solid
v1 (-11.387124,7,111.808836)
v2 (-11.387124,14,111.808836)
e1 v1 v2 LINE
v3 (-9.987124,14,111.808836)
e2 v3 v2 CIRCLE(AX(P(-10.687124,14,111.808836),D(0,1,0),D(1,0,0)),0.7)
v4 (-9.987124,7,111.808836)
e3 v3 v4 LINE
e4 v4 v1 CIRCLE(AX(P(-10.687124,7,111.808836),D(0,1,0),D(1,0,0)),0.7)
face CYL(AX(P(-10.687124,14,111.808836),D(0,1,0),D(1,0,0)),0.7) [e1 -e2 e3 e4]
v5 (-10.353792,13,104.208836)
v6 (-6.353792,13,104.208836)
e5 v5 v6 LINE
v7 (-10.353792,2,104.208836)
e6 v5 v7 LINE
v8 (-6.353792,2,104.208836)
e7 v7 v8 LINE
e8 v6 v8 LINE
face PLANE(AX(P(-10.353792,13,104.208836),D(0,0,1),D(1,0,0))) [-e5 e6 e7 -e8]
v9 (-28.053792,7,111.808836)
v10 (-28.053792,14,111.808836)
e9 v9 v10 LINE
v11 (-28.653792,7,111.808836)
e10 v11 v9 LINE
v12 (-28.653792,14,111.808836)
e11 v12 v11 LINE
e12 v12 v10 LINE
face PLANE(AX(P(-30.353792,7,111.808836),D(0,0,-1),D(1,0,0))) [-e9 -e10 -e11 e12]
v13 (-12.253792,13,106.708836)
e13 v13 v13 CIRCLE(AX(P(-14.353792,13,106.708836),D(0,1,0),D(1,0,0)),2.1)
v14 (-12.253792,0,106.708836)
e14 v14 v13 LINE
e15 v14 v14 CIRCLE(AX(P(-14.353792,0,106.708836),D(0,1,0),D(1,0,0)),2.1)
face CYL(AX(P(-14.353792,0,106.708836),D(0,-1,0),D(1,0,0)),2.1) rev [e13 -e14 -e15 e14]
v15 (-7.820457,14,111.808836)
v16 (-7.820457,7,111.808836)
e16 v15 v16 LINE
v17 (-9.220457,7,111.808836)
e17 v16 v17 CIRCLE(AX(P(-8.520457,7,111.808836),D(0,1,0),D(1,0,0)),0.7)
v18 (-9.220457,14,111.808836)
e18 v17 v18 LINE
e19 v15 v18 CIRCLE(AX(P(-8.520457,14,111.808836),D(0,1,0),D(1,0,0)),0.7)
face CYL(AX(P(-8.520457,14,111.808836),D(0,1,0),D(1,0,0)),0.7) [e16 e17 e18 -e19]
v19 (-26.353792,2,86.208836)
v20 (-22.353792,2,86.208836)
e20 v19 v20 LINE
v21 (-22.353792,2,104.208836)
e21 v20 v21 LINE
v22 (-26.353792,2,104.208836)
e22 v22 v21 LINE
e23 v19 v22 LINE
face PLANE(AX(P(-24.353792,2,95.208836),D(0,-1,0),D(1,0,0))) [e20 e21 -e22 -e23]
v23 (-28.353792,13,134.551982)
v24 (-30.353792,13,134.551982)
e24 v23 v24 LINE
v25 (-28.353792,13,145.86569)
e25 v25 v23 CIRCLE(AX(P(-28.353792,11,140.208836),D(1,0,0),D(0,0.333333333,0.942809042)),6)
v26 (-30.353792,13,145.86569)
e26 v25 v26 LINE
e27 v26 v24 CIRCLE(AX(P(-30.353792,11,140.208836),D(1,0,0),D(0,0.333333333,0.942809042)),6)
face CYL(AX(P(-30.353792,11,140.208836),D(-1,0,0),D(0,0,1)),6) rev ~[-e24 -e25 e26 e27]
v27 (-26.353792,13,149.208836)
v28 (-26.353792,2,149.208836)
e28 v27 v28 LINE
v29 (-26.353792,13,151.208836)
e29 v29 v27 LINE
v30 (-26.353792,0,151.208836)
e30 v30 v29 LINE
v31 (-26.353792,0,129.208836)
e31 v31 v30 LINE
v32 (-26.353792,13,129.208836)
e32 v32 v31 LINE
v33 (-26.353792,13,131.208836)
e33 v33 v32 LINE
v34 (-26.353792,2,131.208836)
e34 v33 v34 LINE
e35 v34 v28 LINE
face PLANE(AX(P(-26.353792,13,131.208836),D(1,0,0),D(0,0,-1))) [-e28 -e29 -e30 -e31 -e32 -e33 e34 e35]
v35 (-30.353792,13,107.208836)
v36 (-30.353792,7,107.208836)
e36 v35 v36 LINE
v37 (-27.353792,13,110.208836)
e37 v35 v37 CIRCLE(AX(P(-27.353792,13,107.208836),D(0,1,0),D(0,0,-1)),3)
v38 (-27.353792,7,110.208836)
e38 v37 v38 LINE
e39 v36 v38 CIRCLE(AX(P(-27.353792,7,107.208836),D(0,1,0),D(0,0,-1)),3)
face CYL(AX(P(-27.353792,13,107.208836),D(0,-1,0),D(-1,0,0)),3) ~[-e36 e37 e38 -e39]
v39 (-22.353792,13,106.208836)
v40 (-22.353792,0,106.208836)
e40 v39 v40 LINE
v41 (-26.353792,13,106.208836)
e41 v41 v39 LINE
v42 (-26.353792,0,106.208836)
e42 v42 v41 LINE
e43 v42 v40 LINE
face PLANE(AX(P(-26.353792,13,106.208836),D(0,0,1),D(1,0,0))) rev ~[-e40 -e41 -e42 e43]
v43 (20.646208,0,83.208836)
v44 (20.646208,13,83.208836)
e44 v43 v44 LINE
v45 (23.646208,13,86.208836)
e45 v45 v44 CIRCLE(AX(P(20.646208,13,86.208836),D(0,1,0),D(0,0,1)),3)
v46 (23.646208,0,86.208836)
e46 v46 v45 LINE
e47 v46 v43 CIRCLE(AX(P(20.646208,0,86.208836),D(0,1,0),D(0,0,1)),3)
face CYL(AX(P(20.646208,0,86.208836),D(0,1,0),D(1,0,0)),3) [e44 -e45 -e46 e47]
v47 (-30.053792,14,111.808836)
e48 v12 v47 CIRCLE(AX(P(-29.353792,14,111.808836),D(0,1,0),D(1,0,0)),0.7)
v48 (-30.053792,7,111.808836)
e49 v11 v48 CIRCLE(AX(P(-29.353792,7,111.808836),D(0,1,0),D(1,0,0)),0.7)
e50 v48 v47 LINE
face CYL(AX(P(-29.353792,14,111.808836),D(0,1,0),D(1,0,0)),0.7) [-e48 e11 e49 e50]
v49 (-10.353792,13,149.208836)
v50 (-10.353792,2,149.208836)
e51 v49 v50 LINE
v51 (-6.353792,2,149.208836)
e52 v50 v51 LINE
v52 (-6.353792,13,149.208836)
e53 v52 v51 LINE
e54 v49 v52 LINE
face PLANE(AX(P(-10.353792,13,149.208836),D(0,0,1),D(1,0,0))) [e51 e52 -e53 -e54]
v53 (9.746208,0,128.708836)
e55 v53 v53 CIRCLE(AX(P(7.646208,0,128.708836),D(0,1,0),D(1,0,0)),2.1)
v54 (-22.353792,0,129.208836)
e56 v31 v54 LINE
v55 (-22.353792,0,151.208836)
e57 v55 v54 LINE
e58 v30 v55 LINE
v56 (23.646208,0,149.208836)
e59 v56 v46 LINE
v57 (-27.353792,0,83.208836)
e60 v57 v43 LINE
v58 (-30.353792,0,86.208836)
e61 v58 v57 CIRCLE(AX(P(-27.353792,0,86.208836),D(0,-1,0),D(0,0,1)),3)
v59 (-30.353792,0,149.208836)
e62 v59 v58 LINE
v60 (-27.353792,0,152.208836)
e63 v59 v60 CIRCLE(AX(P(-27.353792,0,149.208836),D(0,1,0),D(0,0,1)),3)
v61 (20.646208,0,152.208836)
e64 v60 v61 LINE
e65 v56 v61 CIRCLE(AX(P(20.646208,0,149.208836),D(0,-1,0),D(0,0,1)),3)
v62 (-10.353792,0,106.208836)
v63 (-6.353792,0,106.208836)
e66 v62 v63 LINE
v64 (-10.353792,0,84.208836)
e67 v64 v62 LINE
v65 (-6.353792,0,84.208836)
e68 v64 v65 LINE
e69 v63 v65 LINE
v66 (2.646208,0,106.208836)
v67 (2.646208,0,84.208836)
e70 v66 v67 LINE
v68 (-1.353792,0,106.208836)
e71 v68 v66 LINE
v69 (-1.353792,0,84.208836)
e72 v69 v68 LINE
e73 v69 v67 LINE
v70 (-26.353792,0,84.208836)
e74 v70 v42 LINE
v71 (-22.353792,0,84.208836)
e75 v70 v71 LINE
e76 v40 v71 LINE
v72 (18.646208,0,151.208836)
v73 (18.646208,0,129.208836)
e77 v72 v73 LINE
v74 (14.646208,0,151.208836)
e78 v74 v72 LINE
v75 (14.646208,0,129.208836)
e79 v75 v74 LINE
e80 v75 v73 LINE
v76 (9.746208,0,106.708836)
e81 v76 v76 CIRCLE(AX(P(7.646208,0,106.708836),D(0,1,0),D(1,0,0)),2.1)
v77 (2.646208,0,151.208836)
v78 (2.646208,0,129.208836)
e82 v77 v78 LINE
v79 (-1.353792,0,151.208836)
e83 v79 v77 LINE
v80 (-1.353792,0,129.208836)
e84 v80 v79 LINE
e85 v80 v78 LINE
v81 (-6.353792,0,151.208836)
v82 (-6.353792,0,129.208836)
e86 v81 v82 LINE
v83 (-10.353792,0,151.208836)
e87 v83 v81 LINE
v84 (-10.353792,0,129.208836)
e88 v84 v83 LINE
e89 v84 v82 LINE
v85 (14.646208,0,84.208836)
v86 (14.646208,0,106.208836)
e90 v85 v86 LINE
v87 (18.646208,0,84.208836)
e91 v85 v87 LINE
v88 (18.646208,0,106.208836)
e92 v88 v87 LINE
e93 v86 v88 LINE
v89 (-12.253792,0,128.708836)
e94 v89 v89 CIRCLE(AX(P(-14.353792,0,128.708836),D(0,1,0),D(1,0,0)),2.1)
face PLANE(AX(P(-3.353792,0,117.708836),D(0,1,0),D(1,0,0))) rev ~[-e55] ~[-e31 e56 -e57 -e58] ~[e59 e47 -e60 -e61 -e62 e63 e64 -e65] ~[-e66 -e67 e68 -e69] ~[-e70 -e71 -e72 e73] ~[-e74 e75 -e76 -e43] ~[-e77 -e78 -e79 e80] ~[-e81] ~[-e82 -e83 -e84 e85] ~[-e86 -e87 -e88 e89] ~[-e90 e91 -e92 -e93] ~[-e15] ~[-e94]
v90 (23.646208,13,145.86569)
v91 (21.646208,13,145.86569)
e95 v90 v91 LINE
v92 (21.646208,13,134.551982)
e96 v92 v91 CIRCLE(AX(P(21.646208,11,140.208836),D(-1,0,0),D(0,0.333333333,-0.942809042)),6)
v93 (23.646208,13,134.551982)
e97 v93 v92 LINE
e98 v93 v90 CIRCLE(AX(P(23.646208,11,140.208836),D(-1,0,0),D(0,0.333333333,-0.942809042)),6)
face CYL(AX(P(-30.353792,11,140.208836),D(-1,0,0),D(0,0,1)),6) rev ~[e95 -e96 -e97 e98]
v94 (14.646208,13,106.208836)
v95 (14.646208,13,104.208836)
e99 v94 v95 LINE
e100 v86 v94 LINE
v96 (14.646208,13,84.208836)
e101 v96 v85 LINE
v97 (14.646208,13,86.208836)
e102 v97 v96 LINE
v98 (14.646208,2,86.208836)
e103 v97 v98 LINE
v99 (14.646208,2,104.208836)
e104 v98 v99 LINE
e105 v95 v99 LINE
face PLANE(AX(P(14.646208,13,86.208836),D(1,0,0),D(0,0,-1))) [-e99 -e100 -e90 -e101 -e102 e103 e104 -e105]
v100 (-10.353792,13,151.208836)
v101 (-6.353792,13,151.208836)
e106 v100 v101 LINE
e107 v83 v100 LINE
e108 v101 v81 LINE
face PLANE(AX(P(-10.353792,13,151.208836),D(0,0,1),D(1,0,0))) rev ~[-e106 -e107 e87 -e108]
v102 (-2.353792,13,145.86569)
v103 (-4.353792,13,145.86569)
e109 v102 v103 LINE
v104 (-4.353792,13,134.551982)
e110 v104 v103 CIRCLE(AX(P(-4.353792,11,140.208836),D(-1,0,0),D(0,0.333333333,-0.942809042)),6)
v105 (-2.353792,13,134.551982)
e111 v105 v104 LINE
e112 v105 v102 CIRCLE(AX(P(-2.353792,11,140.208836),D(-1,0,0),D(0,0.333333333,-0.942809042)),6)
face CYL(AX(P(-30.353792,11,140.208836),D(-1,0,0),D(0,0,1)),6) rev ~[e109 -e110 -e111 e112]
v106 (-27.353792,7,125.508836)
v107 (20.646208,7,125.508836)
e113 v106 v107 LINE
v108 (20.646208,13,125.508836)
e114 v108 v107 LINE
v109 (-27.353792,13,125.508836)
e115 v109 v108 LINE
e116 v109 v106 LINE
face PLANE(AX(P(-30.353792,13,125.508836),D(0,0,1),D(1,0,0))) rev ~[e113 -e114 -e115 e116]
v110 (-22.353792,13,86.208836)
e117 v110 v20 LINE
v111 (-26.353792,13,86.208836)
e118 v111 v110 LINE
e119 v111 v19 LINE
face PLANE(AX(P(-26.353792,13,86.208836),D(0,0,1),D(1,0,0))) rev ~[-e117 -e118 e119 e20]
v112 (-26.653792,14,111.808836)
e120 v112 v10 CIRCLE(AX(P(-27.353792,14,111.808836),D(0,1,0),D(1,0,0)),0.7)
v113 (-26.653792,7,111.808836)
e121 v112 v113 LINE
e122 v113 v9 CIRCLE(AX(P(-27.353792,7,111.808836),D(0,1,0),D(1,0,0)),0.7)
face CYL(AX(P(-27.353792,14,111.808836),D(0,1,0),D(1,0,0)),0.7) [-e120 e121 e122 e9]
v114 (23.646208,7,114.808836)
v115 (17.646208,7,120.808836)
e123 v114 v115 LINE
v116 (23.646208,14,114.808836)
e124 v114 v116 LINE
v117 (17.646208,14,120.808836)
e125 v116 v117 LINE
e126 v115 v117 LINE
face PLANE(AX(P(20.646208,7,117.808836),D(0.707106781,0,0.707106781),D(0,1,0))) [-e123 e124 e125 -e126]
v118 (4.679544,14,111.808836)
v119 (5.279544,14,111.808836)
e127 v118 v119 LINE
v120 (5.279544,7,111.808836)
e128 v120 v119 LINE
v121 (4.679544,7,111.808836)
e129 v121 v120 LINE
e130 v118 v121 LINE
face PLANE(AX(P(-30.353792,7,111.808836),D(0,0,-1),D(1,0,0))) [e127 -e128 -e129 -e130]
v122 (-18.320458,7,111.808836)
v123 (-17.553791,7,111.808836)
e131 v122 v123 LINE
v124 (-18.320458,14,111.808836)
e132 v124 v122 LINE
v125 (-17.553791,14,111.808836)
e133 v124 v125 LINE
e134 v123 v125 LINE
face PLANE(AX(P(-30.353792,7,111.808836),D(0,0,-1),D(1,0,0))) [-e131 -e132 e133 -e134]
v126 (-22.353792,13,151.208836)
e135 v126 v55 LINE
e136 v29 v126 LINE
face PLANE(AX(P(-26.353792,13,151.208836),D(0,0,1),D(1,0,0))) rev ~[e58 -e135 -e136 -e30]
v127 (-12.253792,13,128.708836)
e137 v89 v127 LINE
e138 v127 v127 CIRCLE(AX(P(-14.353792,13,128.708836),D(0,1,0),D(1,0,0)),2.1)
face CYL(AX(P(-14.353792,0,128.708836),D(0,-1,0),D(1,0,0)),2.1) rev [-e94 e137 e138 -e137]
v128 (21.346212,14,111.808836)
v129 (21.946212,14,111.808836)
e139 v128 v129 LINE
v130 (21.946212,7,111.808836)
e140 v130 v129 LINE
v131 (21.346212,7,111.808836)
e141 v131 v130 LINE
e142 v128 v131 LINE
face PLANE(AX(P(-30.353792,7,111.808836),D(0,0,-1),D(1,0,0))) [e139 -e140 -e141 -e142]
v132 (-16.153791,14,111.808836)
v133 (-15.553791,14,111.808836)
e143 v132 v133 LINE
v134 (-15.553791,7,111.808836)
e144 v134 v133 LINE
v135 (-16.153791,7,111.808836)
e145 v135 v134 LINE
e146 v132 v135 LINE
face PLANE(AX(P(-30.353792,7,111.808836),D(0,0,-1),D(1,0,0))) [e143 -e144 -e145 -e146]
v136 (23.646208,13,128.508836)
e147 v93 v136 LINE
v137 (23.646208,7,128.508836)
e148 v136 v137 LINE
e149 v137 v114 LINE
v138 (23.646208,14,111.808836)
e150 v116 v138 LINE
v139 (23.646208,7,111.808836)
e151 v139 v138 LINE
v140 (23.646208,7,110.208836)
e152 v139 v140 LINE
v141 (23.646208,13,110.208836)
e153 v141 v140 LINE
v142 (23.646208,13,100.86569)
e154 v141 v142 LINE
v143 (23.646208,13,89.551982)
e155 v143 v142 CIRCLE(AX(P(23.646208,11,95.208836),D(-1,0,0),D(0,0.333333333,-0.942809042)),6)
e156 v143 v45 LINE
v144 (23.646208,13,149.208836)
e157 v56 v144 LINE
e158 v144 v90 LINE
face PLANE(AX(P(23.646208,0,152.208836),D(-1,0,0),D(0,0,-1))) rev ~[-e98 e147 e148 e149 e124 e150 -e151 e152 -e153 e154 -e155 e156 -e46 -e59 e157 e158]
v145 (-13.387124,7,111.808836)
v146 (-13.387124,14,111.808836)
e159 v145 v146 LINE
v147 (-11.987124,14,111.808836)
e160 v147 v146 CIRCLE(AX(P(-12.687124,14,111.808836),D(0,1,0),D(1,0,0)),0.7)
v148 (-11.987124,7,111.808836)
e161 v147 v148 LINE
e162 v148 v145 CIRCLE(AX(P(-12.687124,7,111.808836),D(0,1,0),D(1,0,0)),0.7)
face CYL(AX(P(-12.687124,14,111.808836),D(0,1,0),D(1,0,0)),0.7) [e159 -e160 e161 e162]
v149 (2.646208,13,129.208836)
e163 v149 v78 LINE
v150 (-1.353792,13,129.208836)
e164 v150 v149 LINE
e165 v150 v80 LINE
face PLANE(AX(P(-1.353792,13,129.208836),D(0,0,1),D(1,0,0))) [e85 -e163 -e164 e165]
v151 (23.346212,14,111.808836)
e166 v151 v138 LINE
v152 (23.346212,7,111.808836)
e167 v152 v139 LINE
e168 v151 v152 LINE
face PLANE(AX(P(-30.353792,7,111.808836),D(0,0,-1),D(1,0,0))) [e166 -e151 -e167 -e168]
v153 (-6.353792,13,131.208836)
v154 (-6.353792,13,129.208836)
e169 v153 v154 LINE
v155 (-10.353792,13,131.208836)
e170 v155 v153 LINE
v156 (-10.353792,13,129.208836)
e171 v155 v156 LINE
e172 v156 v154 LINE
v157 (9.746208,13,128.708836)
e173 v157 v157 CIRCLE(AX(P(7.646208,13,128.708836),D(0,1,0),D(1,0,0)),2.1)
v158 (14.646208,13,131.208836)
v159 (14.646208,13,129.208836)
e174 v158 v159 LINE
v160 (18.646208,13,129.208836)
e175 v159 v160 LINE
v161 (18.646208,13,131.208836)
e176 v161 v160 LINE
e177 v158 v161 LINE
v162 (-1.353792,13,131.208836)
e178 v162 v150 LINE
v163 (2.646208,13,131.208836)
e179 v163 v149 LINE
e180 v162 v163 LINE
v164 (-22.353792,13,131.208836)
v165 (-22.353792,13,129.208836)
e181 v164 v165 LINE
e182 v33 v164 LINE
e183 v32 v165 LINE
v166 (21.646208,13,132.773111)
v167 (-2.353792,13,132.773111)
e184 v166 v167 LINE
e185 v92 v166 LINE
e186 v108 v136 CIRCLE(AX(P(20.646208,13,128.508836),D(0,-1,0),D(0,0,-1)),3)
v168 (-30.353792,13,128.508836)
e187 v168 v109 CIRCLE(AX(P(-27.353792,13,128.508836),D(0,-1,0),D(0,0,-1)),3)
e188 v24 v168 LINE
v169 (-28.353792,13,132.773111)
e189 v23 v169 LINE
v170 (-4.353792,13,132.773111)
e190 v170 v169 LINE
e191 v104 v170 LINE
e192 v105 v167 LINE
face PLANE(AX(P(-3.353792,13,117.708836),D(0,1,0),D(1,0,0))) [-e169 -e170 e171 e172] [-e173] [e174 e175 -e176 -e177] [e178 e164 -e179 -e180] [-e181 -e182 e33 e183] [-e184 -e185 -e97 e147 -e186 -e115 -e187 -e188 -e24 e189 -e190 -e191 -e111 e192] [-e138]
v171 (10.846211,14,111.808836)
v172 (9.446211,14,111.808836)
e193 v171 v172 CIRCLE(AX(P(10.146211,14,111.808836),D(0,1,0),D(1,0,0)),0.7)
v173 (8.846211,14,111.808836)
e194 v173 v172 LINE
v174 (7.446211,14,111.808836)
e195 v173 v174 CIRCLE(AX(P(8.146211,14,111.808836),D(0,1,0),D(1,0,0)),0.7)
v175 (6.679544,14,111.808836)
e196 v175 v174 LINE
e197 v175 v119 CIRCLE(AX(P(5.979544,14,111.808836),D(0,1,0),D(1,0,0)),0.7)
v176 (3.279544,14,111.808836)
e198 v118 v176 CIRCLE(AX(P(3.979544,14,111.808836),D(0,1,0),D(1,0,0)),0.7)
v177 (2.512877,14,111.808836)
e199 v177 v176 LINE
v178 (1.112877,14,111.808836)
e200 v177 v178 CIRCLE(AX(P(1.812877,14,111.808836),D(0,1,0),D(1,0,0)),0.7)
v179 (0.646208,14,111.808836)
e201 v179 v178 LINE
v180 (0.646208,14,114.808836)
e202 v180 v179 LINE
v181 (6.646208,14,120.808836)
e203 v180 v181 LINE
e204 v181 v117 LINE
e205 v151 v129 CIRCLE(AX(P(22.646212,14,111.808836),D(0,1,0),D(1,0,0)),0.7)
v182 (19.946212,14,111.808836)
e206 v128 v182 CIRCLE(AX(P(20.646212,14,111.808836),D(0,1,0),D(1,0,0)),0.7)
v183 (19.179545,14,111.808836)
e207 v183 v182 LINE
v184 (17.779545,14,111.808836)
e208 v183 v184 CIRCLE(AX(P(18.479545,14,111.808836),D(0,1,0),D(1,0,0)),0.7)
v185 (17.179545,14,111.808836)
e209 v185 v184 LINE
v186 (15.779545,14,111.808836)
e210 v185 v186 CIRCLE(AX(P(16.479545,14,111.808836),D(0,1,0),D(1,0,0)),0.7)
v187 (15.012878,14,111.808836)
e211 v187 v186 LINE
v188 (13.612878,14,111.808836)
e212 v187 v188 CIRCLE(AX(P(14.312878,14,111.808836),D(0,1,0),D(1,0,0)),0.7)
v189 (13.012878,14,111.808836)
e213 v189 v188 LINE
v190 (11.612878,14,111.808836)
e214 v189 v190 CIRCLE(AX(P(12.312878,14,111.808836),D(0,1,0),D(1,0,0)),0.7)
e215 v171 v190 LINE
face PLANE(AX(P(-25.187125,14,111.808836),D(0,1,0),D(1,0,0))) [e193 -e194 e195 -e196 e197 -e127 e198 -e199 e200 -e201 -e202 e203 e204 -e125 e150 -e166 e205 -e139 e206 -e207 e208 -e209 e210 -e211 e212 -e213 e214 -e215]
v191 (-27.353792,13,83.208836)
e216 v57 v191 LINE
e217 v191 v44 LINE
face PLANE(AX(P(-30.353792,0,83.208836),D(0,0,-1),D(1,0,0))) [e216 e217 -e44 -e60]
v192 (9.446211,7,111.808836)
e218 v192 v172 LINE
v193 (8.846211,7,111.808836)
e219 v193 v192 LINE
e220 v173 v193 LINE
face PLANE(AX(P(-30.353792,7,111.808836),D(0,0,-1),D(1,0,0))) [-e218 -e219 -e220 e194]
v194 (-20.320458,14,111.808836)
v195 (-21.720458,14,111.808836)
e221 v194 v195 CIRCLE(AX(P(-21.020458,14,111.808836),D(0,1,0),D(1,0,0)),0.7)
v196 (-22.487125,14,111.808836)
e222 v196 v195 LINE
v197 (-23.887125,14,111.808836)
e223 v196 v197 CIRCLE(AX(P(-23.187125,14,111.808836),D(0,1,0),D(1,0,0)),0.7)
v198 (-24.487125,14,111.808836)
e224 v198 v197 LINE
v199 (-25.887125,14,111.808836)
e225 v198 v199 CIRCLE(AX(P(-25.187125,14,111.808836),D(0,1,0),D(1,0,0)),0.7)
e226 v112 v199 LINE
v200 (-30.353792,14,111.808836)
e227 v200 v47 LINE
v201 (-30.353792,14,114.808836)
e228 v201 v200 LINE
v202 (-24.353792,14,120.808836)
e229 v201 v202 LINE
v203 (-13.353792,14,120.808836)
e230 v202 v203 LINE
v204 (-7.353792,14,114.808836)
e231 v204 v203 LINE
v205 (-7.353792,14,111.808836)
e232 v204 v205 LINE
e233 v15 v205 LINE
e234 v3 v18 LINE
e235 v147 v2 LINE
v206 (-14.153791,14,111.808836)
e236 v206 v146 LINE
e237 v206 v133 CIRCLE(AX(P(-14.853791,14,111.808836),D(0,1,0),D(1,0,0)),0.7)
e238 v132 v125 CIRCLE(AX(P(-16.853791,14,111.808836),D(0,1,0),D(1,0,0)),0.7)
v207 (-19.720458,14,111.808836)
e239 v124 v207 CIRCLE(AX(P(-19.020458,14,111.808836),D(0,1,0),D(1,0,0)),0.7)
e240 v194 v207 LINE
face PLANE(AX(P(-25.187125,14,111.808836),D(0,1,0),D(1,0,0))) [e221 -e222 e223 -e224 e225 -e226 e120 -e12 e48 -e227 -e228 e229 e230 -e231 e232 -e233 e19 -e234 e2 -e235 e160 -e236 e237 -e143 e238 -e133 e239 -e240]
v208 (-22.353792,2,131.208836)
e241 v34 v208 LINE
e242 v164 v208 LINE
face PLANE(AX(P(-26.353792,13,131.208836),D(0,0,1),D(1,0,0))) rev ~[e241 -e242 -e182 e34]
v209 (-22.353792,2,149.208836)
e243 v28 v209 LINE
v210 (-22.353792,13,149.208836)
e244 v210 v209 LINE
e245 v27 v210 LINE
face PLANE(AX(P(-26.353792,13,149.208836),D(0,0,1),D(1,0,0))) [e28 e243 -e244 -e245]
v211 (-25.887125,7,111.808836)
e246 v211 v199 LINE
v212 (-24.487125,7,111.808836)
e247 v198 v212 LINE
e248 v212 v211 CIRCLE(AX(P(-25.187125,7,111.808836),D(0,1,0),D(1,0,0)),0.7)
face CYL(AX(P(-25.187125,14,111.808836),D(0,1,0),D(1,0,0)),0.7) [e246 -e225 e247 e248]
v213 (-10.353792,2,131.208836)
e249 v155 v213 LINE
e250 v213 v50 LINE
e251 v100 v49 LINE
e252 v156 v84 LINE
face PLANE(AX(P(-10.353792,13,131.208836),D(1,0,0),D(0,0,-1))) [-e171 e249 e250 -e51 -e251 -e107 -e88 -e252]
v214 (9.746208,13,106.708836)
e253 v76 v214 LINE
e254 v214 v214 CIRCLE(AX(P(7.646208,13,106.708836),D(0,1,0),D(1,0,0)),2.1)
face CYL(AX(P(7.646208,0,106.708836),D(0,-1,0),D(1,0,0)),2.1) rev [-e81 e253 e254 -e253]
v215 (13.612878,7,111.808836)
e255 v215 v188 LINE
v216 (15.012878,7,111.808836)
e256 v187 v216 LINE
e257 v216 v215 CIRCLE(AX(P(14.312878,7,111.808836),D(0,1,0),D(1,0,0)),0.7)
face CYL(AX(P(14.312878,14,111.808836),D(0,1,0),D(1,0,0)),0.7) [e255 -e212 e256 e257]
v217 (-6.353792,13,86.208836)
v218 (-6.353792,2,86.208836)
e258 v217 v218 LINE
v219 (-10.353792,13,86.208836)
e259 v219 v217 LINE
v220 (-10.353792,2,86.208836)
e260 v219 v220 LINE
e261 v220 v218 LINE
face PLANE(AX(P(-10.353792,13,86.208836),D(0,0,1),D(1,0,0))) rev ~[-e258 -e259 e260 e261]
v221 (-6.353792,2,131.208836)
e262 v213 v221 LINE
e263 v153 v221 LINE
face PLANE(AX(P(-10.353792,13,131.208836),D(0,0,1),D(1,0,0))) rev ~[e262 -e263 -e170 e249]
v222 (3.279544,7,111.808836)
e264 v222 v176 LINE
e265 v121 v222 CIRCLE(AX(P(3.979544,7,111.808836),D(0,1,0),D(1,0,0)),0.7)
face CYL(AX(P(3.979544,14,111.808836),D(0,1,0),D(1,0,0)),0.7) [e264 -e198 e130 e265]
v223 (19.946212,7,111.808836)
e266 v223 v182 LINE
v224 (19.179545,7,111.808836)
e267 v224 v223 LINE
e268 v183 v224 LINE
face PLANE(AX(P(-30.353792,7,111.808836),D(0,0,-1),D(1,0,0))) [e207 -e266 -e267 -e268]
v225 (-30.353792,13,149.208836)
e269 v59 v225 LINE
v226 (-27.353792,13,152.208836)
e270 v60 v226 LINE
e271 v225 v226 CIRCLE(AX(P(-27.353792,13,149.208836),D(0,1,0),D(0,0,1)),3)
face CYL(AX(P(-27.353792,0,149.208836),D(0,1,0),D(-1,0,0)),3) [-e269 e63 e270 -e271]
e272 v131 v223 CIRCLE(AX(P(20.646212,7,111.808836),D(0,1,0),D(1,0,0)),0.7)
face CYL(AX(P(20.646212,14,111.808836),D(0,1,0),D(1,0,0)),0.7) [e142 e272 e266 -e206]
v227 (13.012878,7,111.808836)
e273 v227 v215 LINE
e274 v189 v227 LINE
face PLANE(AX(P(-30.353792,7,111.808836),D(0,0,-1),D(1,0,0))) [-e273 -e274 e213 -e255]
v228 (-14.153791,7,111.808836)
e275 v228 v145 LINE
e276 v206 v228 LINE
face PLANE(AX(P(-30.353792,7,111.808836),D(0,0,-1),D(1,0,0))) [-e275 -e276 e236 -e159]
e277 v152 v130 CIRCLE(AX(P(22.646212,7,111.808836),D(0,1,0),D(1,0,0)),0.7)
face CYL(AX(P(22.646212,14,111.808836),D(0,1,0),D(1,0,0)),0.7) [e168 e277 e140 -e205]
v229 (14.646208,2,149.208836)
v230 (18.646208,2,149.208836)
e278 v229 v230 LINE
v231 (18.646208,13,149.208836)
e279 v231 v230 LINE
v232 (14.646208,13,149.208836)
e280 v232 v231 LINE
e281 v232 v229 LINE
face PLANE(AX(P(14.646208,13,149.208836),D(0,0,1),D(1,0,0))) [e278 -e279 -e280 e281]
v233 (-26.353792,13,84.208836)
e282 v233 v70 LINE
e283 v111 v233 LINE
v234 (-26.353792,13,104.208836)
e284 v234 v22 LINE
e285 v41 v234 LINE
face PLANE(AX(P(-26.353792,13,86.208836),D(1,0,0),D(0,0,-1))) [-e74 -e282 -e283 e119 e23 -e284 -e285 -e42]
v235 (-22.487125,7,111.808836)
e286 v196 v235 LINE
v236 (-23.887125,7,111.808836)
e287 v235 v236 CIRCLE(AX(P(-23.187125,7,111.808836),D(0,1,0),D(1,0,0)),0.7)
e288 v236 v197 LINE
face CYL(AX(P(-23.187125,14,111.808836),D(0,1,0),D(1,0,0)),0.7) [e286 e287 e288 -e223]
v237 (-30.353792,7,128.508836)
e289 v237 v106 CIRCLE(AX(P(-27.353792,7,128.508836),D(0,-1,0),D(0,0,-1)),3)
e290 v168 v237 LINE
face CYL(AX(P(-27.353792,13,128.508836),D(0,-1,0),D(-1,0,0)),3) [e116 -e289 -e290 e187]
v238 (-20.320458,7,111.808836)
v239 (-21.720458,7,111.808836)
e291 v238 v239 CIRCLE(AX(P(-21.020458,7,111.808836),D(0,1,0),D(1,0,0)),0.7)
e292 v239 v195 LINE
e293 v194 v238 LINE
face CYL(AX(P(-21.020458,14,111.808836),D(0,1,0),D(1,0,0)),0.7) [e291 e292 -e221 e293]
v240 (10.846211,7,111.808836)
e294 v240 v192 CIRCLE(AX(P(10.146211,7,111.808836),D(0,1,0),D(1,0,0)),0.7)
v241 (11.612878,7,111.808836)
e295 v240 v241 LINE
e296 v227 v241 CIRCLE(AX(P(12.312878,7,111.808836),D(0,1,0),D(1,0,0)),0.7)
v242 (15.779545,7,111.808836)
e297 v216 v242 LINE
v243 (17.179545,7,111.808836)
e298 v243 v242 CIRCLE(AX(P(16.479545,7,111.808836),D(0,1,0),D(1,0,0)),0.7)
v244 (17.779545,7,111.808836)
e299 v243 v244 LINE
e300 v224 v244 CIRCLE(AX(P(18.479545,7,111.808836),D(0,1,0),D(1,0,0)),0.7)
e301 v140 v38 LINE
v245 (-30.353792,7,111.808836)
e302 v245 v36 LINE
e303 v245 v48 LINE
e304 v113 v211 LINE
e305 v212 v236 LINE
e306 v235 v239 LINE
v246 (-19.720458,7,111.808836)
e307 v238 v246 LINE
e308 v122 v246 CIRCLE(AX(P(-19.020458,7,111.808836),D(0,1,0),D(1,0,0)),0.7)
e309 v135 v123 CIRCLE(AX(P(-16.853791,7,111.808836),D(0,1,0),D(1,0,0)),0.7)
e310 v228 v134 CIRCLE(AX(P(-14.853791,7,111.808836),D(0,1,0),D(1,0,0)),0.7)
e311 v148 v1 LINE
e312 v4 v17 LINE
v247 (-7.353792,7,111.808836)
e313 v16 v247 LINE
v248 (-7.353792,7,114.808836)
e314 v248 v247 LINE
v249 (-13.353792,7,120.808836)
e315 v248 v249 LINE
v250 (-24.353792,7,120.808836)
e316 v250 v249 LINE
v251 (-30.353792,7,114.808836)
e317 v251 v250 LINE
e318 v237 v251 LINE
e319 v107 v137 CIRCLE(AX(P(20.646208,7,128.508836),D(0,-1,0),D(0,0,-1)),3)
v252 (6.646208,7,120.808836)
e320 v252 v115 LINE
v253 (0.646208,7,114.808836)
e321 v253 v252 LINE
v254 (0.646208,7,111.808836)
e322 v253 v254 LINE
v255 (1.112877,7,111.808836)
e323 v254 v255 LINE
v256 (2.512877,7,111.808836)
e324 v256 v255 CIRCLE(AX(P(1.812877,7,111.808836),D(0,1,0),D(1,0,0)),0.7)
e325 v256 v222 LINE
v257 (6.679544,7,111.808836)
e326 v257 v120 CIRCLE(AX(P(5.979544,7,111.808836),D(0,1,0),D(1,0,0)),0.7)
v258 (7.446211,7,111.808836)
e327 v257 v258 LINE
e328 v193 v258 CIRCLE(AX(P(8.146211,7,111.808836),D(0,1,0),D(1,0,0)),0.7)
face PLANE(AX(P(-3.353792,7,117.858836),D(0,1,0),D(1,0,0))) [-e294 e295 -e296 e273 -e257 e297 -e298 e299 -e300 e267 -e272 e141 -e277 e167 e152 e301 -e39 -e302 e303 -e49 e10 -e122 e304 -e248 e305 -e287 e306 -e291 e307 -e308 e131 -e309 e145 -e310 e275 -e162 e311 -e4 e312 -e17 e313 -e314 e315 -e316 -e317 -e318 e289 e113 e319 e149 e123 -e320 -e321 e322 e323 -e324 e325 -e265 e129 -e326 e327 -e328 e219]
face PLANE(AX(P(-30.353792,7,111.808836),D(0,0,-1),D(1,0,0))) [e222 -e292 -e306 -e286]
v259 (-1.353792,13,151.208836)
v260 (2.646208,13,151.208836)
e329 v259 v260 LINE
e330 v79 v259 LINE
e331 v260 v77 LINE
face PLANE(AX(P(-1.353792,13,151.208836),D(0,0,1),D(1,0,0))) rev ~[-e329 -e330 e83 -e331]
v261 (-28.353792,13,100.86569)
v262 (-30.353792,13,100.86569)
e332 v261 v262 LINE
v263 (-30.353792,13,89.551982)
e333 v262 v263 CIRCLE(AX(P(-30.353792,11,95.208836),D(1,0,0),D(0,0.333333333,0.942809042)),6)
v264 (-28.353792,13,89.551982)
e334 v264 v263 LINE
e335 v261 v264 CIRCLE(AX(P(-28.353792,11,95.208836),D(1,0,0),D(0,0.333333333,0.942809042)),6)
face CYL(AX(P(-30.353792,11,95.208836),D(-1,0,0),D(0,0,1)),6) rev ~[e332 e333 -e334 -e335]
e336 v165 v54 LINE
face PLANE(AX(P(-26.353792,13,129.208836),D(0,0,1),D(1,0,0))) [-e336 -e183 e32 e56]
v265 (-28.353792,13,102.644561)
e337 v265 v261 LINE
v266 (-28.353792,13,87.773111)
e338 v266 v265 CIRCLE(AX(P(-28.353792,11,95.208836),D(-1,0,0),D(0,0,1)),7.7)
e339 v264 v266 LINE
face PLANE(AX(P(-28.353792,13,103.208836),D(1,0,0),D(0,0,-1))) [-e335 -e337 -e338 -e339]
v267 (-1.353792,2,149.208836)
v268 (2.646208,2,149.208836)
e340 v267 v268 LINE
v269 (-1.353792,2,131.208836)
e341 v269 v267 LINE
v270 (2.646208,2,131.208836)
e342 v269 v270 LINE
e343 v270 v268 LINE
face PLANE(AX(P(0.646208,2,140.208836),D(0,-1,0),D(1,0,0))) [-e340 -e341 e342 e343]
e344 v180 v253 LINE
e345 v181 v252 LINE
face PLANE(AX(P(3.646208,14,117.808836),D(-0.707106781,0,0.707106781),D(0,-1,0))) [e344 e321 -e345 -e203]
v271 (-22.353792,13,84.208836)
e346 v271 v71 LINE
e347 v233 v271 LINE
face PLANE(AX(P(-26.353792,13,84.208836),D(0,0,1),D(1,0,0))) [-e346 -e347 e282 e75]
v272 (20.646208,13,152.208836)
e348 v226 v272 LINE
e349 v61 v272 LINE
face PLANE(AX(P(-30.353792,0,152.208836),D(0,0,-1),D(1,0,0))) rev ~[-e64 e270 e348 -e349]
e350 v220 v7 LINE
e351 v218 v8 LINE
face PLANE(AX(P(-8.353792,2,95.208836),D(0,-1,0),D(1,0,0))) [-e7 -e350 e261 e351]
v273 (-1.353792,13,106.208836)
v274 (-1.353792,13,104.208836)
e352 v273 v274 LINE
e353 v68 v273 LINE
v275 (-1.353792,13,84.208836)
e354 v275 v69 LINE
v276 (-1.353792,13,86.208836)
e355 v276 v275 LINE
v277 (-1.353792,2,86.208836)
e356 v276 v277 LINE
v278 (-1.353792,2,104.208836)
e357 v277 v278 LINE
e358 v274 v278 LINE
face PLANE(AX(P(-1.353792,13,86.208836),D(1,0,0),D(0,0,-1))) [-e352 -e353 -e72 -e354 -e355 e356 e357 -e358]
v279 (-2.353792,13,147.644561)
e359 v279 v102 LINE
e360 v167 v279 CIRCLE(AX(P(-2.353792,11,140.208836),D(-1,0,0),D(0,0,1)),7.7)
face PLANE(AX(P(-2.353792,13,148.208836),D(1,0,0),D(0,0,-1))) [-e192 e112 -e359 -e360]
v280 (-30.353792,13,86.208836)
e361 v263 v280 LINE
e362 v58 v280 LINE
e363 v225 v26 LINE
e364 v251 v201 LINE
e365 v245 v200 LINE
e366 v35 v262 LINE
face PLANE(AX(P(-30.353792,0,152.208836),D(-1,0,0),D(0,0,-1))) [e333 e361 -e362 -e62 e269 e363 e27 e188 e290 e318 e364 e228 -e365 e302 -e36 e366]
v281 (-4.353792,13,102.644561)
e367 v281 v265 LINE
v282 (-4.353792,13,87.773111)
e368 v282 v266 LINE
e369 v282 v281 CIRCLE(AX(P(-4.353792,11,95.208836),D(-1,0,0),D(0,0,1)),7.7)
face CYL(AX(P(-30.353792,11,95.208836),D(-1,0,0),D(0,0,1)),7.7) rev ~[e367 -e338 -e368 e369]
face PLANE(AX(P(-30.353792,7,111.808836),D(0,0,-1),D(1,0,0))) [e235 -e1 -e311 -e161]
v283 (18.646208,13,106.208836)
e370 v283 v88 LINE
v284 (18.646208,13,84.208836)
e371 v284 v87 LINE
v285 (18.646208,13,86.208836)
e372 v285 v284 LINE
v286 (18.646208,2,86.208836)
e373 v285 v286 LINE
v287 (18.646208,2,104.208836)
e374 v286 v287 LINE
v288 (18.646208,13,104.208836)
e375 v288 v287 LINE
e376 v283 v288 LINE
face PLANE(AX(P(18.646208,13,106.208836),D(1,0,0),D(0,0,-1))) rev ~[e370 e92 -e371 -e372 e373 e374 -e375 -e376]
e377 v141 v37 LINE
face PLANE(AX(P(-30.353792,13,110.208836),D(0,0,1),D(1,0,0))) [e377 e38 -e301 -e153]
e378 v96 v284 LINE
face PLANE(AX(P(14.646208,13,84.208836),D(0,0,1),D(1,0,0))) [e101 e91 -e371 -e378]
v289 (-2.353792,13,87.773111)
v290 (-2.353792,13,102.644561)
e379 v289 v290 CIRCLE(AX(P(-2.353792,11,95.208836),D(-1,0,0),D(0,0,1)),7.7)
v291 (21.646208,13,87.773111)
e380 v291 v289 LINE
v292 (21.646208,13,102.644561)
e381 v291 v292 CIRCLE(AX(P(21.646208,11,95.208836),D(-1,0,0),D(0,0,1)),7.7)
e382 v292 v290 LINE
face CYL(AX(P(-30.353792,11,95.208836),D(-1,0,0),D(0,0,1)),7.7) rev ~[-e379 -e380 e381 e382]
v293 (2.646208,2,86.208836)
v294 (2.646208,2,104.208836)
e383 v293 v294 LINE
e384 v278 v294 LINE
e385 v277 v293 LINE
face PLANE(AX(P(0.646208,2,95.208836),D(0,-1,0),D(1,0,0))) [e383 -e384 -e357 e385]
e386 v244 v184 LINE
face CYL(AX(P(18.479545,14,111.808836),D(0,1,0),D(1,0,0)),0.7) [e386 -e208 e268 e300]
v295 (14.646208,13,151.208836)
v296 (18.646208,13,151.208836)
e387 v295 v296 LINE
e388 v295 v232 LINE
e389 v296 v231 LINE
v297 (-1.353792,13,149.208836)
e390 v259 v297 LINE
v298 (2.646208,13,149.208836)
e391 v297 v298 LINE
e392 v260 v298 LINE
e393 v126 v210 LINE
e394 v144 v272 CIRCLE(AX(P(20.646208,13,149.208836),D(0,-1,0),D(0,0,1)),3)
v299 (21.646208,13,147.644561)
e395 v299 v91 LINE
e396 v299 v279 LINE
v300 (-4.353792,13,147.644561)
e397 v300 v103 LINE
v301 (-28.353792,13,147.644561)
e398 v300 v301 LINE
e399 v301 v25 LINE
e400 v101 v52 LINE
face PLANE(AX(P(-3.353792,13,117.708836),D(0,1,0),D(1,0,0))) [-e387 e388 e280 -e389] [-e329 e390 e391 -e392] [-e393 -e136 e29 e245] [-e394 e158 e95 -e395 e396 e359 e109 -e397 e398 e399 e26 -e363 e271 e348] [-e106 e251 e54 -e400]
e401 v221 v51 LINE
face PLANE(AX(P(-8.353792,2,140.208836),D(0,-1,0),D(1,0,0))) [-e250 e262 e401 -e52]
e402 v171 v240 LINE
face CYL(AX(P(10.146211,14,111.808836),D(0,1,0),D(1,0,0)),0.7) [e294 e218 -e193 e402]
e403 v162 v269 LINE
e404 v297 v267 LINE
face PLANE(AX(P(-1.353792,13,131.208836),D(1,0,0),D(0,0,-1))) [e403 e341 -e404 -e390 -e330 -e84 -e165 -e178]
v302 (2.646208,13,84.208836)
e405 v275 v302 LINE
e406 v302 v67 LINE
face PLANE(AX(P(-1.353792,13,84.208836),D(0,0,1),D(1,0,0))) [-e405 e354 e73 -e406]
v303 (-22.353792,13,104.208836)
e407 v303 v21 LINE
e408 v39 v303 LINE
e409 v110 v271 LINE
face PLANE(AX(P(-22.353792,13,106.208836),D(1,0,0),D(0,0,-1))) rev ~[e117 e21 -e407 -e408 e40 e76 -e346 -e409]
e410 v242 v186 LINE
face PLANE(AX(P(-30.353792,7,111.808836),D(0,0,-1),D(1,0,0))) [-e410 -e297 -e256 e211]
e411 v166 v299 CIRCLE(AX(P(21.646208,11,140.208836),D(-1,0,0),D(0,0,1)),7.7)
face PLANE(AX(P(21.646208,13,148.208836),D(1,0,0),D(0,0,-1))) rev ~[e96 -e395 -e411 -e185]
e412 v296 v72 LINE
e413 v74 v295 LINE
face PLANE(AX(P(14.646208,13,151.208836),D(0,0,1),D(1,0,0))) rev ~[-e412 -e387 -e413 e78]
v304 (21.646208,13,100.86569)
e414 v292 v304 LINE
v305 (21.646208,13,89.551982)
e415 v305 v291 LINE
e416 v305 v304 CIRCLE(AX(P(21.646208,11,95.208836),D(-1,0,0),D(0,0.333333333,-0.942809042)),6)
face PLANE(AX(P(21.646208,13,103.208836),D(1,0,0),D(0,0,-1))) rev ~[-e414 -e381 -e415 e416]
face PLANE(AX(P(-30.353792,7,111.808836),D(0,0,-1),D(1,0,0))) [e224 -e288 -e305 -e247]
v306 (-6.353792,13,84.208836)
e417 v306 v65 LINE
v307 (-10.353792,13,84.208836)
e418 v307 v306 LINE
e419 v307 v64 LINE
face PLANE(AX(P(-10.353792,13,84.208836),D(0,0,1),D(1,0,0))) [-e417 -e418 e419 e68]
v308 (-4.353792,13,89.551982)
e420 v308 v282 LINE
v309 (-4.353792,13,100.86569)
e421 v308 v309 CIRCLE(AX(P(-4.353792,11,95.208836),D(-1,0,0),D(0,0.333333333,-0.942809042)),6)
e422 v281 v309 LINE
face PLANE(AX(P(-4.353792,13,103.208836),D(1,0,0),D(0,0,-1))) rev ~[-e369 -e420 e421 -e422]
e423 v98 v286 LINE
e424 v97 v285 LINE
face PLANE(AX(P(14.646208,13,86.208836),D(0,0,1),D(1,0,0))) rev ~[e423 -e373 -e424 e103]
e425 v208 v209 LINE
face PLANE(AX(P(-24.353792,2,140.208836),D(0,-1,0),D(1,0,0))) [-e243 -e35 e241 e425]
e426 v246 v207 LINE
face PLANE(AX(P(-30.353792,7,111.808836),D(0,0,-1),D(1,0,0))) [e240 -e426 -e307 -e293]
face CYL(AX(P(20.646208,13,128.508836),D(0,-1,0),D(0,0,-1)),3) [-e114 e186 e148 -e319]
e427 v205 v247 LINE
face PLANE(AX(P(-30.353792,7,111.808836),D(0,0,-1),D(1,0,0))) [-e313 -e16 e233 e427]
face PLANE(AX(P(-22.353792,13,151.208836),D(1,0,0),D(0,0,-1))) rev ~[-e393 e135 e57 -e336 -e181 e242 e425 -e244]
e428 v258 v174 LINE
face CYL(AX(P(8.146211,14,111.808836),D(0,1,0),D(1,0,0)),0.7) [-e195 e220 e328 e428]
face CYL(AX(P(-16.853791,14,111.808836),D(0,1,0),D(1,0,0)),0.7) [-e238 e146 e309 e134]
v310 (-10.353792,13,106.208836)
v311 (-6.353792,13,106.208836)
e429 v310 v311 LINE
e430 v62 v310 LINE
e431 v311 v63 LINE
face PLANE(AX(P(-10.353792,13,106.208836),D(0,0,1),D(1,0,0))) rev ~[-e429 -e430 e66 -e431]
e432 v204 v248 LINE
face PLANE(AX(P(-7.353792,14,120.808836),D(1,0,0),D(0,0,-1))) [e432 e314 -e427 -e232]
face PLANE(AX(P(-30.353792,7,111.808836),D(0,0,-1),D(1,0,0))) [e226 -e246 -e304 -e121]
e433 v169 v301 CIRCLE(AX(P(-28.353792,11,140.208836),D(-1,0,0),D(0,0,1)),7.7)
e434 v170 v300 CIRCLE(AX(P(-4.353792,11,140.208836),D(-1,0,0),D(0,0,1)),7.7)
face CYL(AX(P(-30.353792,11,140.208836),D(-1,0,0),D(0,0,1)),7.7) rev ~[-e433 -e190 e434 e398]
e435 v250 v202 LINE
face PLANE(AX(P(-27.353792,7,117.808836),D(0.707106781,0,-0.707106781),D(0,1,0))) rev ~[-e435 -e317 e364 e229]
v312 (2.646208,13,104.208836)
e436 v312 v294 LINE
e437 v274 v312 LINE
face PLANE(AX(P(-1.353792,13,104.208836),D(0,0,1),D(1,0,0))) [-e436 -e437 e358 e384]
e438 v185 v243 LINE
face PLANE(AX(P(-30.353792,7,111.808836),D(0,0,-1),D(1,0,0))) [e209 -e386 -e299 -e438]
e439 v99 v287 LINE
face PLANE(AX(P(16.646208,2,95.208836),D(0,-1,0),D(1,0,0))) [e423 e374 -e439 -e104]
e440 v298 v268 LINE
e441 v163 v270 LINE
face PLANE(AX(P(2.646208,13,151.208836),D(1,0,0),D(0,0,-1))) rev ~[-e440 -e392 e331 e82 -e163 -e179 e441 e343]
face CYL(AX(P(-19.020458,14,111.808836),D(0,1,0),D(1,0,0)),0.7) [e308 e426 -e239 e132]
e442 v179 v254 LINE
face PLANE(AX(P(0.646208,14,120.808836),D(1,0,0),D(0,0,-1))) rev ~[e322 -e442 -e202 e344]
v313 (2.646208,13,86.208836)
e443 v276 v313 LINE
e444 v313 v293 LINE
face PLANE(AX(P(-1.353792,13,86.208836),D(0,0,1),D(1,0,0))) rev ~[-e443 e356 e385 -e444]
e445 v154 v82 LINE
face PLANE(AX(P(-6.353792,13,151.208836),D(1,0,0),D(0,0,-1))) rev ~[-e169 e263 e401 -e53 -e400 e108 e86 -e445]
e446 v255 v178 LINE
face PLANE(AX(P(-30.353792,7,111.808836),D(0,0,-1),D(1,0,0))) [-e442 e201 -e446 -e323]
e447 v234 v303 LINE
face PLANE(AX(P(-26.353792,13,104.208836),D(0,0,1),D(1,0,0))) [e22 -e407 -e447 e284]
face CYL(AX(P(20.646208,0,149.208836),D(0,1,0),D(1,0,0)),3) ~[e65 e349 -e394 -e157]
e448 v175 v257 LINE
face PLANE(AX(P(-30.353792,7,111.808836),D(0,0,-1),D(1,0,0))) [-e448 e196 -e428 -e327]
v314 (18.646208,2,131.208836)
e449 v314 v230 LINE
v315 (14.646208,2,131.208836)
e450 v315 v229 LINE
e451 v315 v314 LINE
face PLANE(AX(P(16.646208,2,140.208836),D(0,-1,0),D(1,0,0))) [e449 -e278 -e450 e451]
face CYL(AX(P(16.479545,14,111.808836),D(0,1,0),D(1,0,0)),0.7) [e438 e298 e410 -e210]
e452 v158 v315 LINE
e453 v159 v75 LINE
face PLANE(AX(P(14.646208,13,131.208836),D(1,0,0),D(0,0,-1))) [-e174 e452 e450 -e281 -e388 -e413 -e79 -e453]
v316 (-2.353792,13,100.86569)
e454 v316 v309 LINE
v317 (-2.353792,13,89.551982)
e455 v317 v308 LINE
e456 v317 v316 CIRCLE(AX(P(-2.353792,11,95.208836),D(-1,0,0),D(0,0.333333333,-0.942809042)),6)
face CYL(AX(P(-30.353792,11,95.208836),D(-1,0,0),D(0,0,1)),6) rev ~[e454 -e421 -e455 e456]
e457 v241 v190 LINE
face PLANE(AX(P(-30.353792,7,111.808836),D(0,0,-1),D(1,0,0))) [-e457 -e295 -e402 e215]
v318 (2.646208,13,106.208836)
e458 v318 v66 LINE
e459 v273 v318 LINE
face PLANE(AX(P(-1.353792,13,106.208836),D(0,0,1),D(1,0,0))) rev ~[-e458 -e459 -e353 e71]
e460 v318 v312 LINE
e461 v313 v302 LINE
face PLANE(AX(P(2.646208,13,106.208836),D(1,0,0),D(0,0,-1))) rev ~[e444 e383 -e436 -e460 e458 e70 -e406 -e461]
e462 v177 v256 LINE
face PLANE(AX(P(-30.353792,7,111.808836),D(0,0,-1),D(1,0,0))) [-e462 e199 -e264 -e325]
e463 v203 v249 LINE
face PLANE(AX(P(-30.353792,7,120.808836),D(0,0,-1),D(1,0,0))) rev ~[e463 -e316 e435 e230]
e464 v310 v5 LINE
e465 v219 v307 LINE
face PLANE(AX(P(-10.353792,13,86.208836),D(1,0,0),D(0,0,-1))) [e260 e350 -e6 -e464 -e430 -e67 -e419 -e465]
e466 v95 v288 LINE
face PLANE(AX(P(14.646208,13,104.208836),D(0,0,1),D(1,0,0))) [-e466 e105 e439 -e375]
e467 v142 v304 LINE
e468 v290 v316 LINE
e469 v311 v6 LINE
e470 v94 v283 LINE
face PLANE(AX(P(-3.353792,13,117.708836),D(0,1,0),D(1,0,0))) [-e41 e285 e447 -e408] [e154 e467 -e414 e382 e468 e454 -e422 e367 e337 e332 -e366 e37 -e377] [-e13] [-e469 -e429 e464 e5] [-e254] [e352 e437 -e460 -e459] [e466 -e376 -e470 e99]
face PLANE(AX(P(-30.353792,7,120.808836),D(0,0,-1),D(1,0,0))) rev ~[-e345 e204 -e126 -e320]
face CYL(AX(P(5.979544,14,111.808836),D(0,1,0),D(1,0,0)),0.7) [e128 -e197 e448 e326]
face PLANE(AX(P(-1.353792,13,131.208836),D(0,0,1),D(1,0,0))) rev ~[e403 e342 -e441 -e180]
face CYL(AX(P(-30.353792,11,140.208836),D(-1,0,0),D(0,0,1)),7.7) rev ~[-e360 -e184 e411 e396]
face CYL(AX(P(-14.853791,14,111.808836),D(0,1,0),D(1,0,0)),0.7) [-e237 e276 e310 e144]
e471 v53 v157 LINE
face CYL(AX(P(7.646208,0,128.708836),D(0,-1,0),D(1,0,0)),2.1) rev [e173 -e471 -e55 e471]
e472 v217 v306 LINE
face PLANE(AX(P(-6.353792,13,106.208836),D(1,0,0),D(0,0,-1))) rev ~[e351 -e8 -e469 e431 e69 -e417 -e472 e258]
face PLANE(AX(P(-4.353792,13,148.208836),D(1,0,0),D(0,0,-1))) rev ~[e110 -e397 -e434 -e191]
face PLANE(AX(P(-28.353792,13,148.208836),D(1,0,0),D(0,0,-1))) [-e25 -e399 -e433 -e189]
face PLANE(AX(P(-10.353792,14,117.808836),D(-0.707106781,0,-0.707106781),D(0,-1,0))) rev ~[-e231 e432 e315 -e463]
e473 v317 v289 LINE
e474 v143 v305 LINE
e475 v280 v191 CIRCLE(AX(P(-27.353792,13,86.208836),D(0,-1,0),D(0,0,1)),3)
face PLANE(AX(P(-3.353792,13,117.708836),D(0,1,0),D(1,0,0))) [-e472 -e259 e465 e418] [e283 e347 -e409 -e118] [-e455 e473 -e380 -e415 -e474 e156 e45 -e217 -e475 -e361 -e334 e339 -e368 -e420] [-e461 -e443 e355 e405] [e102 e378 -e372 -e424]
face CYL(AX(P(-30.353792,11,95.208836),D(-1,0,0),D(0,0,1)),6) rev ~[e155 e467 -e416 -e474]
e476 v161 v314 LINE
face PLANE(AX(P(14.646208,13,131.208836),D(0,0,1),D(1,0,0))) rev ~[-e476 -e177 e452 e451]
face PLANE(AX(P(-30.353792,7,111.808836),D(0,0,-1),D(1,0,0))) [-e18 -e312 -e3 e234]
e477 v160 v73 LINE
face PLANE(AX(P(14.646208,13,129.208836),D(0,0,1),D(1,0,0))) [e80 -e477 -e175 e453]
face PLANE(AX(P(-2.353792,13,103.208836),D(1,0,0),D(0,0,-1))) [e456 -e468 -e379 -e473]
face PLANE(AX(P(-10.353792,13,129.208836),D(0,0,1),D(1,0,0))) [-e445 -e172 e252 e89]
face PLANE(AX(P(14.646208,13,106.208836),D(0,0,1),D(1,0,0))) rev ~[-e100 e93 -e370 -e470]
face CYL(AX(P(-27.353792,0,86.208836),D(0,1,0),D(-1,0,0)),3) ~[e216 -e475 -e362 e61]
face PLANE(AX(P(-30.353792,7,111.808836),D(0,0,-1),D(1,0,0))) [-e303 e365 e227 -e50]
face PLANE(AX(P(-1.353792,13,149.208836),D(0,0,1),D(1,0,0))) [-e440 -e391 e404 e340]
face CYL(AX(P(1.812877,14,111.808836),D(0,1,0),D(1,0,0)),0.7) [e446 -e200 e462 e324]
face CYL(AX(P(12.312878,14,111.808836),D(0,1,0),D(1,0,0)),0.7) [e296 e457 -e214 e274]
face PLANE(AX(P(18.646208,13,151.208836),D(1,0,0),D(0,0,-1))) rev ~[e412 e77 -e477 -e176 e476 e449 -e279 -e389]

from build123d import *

# Parameters (mm, degrees)
SKETCH_W               = 54
SKETCH_H               = 69
SKETCH_R               = 2.1
PAD_DEPTH              = 13
SKETCH001_W            = 4
SKETCH001_H            = 2
POCKET_DEPTH           = 13
LINEARPATTERN_COUNT    = 2
LINEARPATTERN_PITCH    = 25
SKETCH002_R            = 7.7
POCKET001_DEPTH        = 58
SKETCH003_W            = 54
SKETCH003_H            = 15.3
POCKET002_DEPTH        = 6
SKETCH004_W            = 54
SKETCH004_H            = 9
PAD001_DEPTH           = 7
SKETCH005_R            = 0.7
PAD002_DEPTH           = 7
LINEARPATTERN001_COUNT = 13
LINEARPATTERN001_PITCH = 4.166667
SKETCH006_W            = 8
SKETCH006_H            = 10.6
POCKET003_DEPTH        = 7
SKETCH007_W            = 2
SKETCH007_H            = 16
PAD003_DEPTH           = 10
SKETCH008_R            = 6
POCKET004_DEPTH        = 58
SKETCH009_W            = 4
SKETCH009_H            = 22
POCKET005_DEPTH        = 2
CHAMFER_SIZE           = 6
FILLET_R               = 3


with BuildPart() as part:
    # Sketch → Pad (new body)
    with BuildSketch(Plane(origin=(43, 0, 135.5), x_dir=(1, 0, 0), z_dir=(0, 1, 0))):
        with Locations((-46.353792, 17.791164)):
            Rectangle(SKETCH_W, SKETCH_H)
        with Locations((-57.353792, 28.791164)):
            Circle(SKETCH_R, mode=Mode.SUBTRACT)
        with Locations((-35.353792, 28.791164)):
            Circle(SKETCH_R, mode=Mode.SUBTRACT)
        with Locations((-57.353792, 6.791164)):
            Circle(SKETCH_R, mode=Mode.SUBTRACT)
        with Locations((-35.353792, 6.791164)):
            Circle(SKETCH_R, mode=Mode.SUBTRACT)
    extrude(amount=PAD_DEPTH)

    # Sketch001 → Pocket (cut)
    with BuildSketch(Plane(origin=(43, 13, 135.5), x_dir=(1, 0, 0), z_dir=(0, 1, 0))):
        with Locations((-67.353792, 50.291164)):
            Rectangle(SKETCH001_W, SKETCH001_H)
        with Locations((-67.353792, 30.291164)):
            Rectangle(SKETCH001_W, SKETCH001_H)
        with Locations((-67.353792, 5.291164)):
            Rectangle(SKETCH001_W, SKETCH001_H)
        with Locations((-67.353792, -14.708836)):
            Rectangle(SKETCH001_W, SKETCH001_H)
        with Locations((-51.353792, 50.291164)):
            Rectangle(SKETCH001_W, SKETCH001_H)
        with Locations((-51.353792, 30.291164)):
            Rectangle(SKETCH001_W, SKETCH001_H)
        with Locations((-51.353792, 5.291164)):
            Rectangle(SKETCH001_W, SKETCH001_H)
        with Locations((-51.353792, -14.708836)):
            Rectangle(SKETCH001_W, SKETCH001_H)
    pocket = extrude(amount=-POCKET_DEPTH, mode=Mode.SUBTRACT)

    # LinearPattern: Pocket ×2
    with Locations(*[(i * LINEARPATTERN_PITCH, 0, 0) for i in range(1, LINEARPATTERN_COUNT)]):
        add(pocket, mode=Mode.SUBTRACT)

    # Sketch002 → Pocket001 (cut)
    with BuildSketch(Plane(origin=(-30.353792, 0, 135.5), x_dir=(0, 0, 1), z_dir=(-1, 0, 0))):
        with Locations((-40.291164, 11)):
            Circle(SKETCH002_R)
        with Locations((4.708836, 11)):
            Circle(SKETCH002_R)
    extrude(amount=-POCKET001_DEPTH, mode=Mode.SUBTRACT)

    # Sketch003 → Pocket002 (cut)
    with BuildSketch(Plane(origin=(43, 13, 135.5), x_dir=(1, 0, 0), z_dir=(0, 1, 0))):
        with Locations((-46.353792, 17.641164)):
            Rectangle(SKETCH003_W, SKETCH003_H)
    extrude(amount=-POCKET002_DEPTH, mode=Mode.SUBTRACT)

    # Sketch004 → Pad001 (new body)
    with BuildSketch(Plane(origin=(43, 7, 135.5), x_dir=(1, 0, 0), z_dir=(0, 1, 0))):
        with Locations((-46.353792, 19.191164)):
            Rectangle(SKETCH004_W, SKETCH004_H)
    extrude(amount=PAD001_DEPTH)

    # Sketch005 → Pad002 (new body)
    with BuildSketch(Plane(origin=(43, 14, 135.5), x_dir=(1, 0, 0), z_dir=(0, 1, 0))):
        with Locations((-72.353792, 23.691164)):
            Circle(SKETCH005_R)
        with Locations((-70.353792, 23.691164)):
            Circle(SKETCH005_R)
    pad002 = extrude(amount=-PAD002_DEPTH)

    # LinearPattern001: Pad002 ×13
    with Locations(*[(i * LINEARPATTERN001_PITCH, 0, 0) for i in range(1, LINEARPATTERN001_COUNT)]):
        add(pad002)

    # Sketch006 → Pocket003 (cut)
    with BuildSketch(Plane(origin=(43, 14, 135.5), x_dir=(1, 0, 0), z_dir=(0, 1, 0))):
        with Locations((-46.353792, 19.991164)):
            Rectangle(SKETCH006_W, SKETCH006_H)
    extrude(amount=-POCKET003_DEPTH, mode=Mode.SUBTRACT)

    # Sketch007 → Pad003 (new body)
    with BuildSketch(Plane(origin=(43, 13, 135.5), x_dir=(1, 0, 0), z_dir=(0, 1, 0))):
        with Locations((-72.353792, 40.291164)):
            Rectangle(SKETCH007_W, SKETCH007_H)
        with Locations((-46.353792, 40.291164)):
            Rectangle(SKETCH007_W, SKETCH007_H)
        with Locations((-20.353792, 40.291164)):
            Rectangle(SKETCH007_W, SKETCH007_H)
        with Locations((-72.353792, -4.708836)):
            Rectangle(SKETCH007_W, SKETCH007_H)
        with Locations((-46.353792, -4.708836)):
            Rectangle(SKETCH007_W, SKETCH007_H)
        with Locations((-20.353792, -4.708836)):
            Rectangle(SKETCH007_W, SKETCH007_H)
    extrude(amount=-PAD003_DEPTH)

    # Sketch008 → Pocket004 (cut)
    with BuildSketch(Plane(origin=(-30.353792, 0, 135.5), x_dir=(0, 0, 1), z_dir=(-1, 0, 0))):
        with Locations((-40.291164, 11)):
            Circle(SKETCH008_R)
        with Locations((4.708836, 11)):
            Circle(SKETCH008_R)
    extrude(amount=-POCKET004_DEPTH, mode=Mode.SUBTRACT)

    # Sketch009 → Pocket005 (cut)
    with BuildSketch(Plane(origin=(43, 0, 135.5), x_dir=(1, 0, 0), z_dir=(0, -1, 0))):
        with Locations((-67.353792, 4.708836)):
            Rectangle(SKETCH009_W, SKETCH009_H)
        with Locations((-51.353792, 4.708836)):
            Rectangle(SKETCH009_W, SKETCH009_H)
        with Locations((-42.353792, 4.708836)):
            Rectangle(SKETCH009_W, SKETCH009_H)
        with Locations((-26.353792, 4.708836)):
            Rectangle(SKETCH009_W, SKETCH009_H)
        with Locations((-67.353792, -40.291164)):
            Rectangle(SKETCH009_W, SKETCH009_H)
        with Locations((-51.353792, -40.291164)):
            Rectangle(SKETCH009_W, SKETCH009_H)
        with Locations((-42.353792, -40.291164)):
            Rectangle(SKETCH009_W, SKETCH009_H)
        with Locations((-26.353792, -40.291164)):
            Rectangle(SKETCH009_W, SKETCH009_H)
    extrude(amount=-POCKET005_DEPTH, mode=Mode.SUBTRACT)

    # Chamfer
    chamfer_edges = [part.edges().sort_by_distance(p)[0] for p in [
        (23.646208, 10.5, 120.808836),
        (0.646208, 10.5, 120.808836),
        (-7.353792, 10.5, 120.808836),
        (-30.353792, 10.5, 120.808836),
    ]]
    chamfer(chamfer_edges, length=CHAMFER_SIZE)

    # Fillet
    fillet_edges = [part.edges().sort_by_distance(p)[0] for p in [
        (23.646208, 6.5, 83.208836),
        (-30.353792, 6.5, 83.208836),
        (-30.353792, 6.5, 152.208836),
        (23.646208, 6.5, 152.208836),
        (23.646208, 10, 125.508836),
        (-30.353792, 10, 110.208836),
        (-30.353792, 10, 125.508836),
    ]]
    fillet(fillet_edges, radius=FILLET_R)


solid = part.part
